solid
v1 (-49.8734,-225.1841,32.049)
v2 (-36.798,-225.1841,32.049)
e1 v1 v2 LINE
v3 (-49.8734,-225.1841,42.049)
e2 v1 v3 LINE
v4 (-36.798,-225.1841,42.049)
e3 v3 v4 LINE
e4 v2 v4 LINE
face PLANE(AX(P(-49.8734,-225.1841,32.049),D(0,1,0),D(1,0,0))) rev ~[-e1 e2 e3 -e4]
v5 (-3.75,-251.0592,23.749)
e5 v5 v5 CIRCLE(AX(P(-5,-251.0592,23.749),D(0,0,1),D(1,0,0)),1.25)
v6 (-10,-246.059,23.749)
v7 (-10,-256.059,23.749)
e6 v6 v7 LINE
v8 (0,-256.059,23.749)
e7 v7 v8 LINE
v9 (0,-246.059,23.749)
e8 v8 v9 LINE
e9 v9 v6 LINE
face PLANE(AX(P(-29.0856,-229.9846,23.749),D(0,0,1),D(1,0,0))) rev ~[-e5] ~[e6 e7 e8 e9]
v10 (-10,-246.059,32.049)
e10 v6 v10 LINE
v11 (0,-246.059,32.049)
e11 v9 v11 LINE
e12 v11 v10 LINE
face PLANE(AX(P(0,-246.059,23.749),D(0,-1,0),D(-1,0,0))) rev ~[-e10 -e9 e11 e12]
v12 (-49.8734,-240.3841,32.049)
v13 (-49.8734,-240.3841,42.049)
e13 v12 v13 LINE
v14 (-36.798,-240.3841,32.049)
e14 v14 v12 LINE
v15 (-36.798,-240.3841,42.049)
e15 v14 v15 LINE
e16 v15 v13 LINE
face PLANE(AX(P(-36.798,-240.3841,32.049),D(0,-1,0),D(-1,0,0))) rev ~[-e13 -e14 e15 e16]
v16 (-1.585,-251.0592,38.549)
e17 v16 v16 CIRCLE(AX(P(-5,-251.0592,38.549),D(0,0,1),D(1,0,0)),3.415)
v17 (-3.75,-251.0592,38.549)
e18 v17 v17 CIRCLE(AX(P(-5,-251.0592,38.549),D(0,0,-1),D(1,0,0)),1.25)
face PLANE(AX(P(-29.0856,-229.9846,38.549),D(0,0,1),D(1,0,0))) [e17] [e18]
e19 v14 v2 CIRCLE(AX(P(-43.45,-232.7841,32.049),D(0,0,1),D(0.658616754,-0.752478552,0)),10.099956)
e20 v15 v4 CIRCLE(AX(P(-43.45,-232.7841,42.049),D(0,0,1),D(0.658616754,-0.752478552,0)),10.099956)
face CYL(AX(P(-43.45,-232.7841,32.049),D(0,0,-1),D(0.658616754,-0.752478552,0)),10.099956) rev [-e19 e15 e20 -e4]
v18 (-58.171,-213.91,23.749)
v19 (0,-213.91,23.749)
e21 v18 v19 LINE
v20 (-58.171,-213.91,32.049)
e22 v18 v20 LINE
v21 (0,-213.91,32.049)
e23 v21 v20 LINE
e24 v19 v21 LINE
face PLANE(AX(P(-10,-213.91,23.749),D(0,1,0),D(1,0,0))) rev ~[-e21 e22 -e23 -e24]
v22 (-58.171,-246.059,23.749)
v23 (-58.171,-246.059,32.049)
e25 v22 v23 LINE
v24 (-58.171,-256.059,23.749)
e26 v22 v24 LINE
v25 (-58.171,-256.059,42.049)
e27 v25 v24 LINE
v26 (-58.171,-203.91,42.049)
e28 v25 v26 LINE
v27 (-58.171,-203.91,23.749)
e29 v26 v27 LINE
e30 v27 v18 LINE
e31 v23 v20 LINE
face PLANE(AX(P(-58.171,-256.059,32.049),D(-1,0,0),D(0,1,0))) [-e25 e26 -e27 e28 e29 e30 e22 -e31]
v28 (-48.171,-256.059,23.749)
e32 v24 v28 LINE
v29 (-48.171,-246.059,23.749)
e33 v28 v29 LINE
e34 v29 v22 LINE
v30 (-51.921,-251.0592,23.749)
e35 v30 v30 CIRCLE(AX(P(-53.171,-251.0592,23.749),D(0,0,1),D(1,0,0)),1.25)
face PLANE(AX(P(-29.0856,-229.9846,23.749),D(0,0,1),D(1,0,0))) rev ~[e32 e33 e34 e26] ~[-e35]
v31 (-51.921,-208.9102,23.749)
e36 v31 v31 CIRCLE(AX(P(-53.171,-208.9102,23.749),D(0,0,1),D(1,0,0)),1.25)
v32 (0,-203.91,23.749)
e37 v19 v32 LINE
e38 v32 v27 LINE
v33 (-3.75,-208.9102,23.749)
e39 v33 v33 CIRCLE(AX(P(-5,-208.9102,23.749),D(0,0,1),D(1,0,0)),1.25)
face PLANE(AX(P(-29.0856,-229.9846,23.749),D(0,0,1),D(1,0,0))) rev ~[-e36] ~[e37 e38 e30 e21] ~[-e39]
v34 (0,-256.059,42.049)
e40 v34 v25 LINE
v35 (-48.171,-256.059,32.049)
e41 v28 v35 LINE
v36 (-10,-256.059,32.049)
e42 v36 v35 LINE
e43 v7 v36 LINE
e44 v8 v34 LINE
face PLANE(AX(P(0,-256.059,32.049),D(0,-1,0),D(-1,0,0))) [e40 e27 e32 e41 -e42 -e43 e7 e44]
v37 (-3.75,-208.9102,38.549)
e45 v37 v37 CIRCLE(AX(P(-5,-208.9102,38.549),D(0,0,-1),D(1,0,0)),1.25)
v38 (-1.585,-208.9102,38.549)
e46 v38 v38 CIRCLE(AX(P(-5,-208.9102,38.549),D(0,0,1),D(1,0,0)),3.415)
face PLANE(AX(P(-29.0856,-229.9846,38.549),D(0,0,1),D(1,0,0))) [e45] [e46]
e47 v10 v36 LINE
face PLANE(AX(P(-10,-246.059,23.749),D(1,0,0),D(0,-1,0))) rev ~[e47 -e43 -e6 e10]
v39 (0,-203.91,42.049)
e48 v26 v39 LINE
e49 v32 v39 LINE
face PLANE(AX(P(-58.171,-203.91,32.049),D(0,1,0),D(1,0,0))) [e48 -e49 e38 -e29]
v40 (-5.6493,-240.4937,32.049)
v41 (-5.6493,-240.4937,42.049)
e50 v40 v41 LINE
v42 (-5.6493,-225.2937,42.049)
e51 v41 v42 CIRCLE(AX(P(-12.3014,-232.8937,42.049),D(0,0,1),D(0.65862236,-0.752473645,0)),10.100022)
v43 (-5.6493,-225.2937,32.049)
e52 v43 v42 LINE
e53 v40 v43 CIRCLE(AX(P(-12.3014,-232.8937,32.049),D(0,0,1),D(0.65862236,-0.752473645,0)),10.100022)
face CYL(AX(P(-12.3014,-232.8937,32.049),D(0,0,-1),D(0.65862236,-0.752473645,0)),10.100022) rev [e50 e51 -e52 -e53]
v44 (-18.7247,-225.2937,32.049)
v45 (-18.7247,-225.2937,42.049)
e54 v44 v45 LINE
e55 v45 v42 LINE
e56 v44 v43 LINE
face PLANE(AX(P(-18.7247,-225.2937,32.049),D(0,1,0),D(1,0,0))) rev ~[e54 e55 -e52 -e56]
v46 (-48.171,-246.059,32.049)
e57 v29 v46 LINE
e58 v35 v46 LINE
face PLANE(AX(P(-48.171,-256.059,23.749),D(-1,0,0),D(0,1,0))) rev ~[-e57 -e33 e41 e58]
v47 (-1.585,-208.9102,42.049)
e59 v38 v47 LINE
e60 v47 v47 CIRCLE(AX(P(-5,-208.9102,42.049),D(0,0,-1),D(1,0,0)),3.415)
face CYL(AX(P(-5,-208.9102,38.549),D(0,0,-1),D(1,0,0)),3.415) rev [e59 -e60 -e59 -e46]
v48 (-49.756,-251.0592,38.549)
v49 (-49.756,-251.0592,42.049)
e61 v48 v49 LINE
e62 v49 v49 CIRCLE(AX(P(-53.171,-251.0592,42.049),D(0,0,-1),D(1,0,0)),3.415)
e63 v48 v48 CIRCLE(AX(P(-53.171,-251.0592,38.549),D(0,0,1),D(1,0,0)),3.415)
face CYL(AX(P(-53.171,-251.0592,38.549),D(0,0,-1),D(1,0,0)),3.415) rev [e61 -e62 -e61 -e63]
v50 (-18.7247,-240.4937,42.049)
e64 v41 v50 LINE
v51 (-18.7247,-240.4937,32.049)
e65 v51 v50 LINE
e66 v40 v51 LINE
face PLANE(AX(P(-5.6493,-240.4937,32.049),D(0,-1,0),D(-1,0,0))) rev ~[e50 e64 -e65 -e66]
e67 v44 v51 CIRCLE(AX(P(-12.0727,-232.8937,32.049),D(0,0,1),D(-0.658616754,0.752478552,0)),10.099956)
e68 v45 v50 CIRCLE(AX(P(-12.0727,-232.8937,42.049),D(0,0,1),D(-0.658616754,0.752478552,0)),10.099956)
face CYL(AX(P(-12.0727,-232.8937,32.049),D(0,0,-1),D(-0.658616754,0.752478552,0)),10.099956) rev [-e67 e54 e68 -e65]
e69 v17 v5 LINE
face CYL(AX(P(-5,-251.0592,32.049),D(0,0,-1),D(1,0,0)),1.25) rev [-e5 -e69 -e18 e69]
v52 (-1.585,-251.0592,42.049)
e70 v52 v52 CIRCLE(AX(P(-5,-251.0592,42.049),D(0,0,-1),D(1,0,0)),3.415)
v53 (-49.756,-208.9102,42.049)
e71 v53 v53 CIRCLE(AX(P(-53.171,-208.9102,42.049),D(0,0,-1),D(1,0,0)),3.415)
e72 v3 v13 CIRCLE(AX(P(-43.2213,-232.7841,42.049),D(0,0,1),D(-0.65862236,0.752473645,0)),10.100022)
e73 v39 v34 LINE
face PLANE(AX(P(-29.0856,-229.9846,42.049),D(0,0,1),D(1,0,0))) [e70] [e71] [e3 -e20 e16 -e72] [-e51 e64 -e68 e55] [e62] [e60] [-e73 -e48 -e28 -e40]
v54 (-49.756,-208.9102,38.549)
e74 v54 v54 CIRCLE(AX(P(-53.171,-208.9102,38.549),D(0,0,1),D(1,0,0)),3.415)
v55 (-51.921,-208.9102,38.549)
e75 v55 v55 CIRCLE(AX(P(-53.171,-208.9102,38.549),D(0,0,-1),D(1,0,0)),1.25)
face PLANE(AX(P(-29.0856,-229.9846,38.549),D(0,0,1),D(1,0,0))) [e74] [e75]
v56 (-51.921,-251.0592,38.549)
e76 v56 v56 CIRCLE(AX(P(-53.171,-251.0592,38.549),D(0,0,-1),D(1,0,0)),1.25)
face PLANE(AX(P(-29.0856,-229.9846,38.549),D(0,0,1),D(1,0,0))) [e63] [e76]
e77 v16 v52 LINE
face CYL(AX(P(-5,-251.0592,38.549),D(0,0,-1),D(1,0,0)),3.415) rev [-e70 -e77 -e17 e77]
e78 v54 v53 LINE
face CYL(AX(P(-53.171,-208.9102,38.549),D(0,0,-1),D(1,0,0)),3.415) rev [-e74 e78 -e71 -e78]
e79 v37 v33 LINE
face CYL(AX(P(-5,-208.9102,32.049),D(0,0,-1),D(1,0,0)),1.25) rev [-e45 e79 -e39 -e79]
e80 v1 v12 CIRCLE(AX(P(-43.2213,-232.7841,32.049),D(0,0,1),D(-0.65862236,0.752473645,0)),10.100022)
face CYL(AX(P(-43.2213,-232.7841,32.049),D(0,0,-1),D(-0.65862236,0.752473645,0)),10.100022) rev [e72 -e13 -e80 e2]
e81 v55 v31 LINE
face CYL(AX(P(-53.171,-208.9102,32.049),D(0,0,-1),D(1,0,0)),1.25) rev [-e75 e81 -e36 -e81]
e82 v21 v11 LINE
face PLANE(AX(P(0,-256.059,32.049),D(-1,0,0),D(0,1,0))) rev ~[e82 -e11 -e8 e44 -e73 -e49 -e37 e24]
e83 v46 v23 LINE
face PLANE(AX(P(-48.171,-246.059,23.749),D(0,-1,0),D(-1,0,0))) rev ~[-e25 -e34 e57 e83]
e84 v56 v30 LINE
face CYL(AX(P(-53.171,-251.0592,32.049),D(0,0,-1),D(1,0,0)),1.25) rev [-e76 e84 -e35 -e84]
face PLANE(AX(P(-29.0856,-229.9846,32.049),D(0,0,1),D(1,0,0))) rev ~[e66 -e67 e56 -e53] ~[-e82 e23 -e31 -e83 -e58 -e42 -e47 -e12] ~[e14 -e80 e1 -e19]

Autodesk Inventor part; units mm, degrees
ref_plane "YZ Plane" through (0, 0, 0) normal (1, 0, 0) x (0, 1, 0)
ref_plane "XZ Plane" through (0, 0, 0) normal (0, 1, 0) x (-1, 0, 0)
ref_plane "XY Plane" through (0, 0, 0) normal (0, 0, 1) x (1, 0, 0)
ref_plane "Work Plane1" through (-29.0856, -229.9846, 23.749) normal (0, 0, 1) x (1, 0, 0)
sketch "Sketch1" plane through (-29.0856, -229.9846, 23.749) normal (0, 0, 1) x (1, 0, 0)
  line L0 (-29.0856, -26.0746) -> (29.0856, -26.0746) construction
  line L1 (29.0856, -26.0746) -> (29.0856, 26.0746) construction
  line L2 (29.0856, 26.0746) -> (-29.0856, 26.0746) construction
  line L3 (-29.0856, 26.0746) -> (-29.0856, -26.0746) construction
  circle A0 centre (24.0856, -21.0746) radius 1.25 construction
  circle A1 centre (-24.0854, -21.0746) radius 1.25 construction
  circle A2 centre (24.0856, 21.0744) radius 1.25 construction
  circle A3 centre (-24.0854, 21.0744) radius 1.25 construction
  arc A4 (23.3986, -10.4091) -> (23.3986, 4.5909) centre (16.7842, -2.9091) ccw construction
  line L4 (10.3986, 4.5909) -> (23.3986, 4.5909) construction
  arc A5 (10.3986, 4.5909) -> (10.3986, -10.4091) centre (17.0129, -2.9091) ccw construction
  line L5 (23.3986, -10.4091) -> (10.3986, -10.4091) construction
  arc A6 (-7.7501, -10.2995) -> (-7.7501, 4.7005) centre (-14.3644, -2.7995) ccw construction
  line L6 (-20.7501, 4.7005) -> (-7.7501, 4.7005) construction
  arc A7 (-20.7501, 4.7005) -> (-20.7501, -10.2995) centre (-14.1357, -2.7995) ccw construction
  line L7 (-7.7501, -10.2995) -> (-20.7501, -10.2995) construction
  spline S0 degree 3 poles (-70.3801, 6.5313) (-70.2603, 6.7214) (-70.0805, 7.0065) (-69.8595, 7.3979) (-69.7007, 7.6952) (-69.5502, 7.9968) (-69.4085, 8.3027) (-69.2764, 8.6129) (-69.155, 8.9274) (-69.046, 9.2463) (-68.95, 9.5696) (-68.8876, 9.8435) (-68.8425, 10.0636) (-68.7948, 10.2255) (-68.7304, 10.3815) (-68.6465, 10.5283) (-68.558, 10.6379) (-68.4781, 10.7171) (-68.4105, 10.7676) (-68.3413, 10.816) (-68.265, 10.8522) (-68.1875, 10.8857) (-68.1054, 10.9055) (-68.0227, 10.9222) (-67.9101, 10.9262) (-67.7698, 10.9236) (-67.6294, 10.9262) (-67.5169, 10.9222) (-67.4341, 10.9055) (-67.352, 10.8857) (-67.2745, 10.8522) (-67.1982, 10.816) (-67.129, 10.7676) (-67.0614, 10.7171) (-66.9815, 10.6379) (-66.8931, 10.5283) (-66.8091, 10.3815) (-66.7447, 10.2255) (-66.6971, 10.0636) (-66.652, 9.8435) (-66.5895, 9.5696) (-66.4936, 9.2463) (-66.3845, 8.9274) (-66.2631, 8.6129) (-66.1311, 8.3027) (-65.9894, 7.9968) (-65.8389, 7.6952) (-65.68, 7.3979) (-65.459, 7.0065) (-65.2792, 6.7214) (-65.1594, 6.5313) knots -1.0784 -1.0784 -1.0784 -1.0784 -1.010995 -0.977291 -0.943586 -0.909882 -0.876178 -0.842474 -0.80877 -0.775067 -0.741365 -0.707665 -0.690816 -0.67397 -0.657123 -0.640284 -0.623449 -0.615023 -0.606598 -0.598176 -0.589749 -0.581327 -0.572901 -0.564477 -0.556053 -0.5392 -0.522347 -0.513923 -0.505499 -0.497074 -0.488651 -0.480225 -0.471802 -0.463377 -0.454951 -0.438116 -0.421277 -0.40443 -0.387584 -0.370735 -0.337035 -0.303333 -0.26963 -0.235926 -0.202222 -0.168518 -0.134814 -0.101109 -0.067405 0 0 0 0 construction
  line L8 (-65.1594, 6.5313) -> (-64.0971, 6.5313) construction
  spline S1 degree 3 poles (-64.0971, 6.5313) (-63.9773, 6.7214) (-63.7975, 7.0065) (-63.5765, 7.3979) (-63.4177, 7.6952) (-63.2672, 7.9968) (-63.1255, 8.3027) (-62.9934, 8.6129) (-62.872, 8.9274) (-62.763, 9.2463) (-62.667, 9.5696) (-62.6046, 9.8435) (-62.5595, 10.0636) (-62.5118, 10.2255) (-62.4474, 10.3815) (-62.3635, 10.5283) (-62.275, 10.6379) (-62.1951, 10.7171) (-62.1275, 10.7676) (-62.0583, 10.816) (-61.982, 10.8522) (-61.9045, 10.8857) (-61.8224, 10.9055) (-61.7397, 10.9222) (-61.6271, 10.9262) (-61.4868, 10.9236) (-61.3464, 10.9262) (-61.2339, 10.9222) (-61.1511, 10.9055) (-61.069, 10.8857) (-60.9915, 10.8522) (-60.9152, 10.816) (-60.846, 10.7676) (-60.7784, 10.7171) (-60.6985, 10.6379) (-60.6101, 10.5283) (-60.5261, 10.3815) (-60.4617, 10.2255) (-60.4141, 10.0636) (-60.369, 9.8435) (-60.3065, 9.5696) (-60.2106, 9.2463) (-60.1015, 8.9274) (-59.9801, 8.6129) (-59.8481, 8.3027) (-59.7064, 7.9968) (-59.5559, 7.6952) (-59.397, 7.3979) (-59.176, 7.0065) (-58.9962, 6.7214) (-58.8764, 6.5313) knots -1.0784 -1.0784 -1.0784 -1.0784 -1.010995 -0.977291 -0.943586 -0.909882 -0.876178 -0.842474 -0.80877 -0.775067 -0.741365 -0.707665 -0.690816 -0.67397 -0.657123 -0.640284 -0.623449 -0.615023 -0.606598 -0.598176 -0.589749 -0.581327 -0.572901 -0.564477 -0.556053 -0.5392 -0.522347 -0.513923 -0.505499 -0.497074 -0.488651 -0.480225 -0.471802 -0.463377 -0.454951 -0.438116 -0.421277 -0.40443 -0.387584 -0.370735 -0.337035 -0.303333 -0.26963 -0.235926 -0.202222 -0.168518 -0.134814 -0.101109 -0.067405 0 0 0 0 construction
  line L9 (-58.8764, 6.5313) -> (-57.8141, 6.5313) construction
  spline S2 degree 3 poles (-57.8141, 6.5313) (-57.6943, 6.7214) (-57.5145, 7.0065) (-57.2935, 7.3979) (-57.1347, 7.6952) (-56.9842, 7.9968) (-56.8425, 8.3027) (-56.7104, 8.6129) (-56.589, 8.9274) (-56.48, 9.2463) (-56.384, 9.5696) (-56.3216, 9.8435) (-56.2765, 10.0636) (-56.2288, 10.2255) (-56.1644, 10.3815) (-56.0805, 10.5283) (-55.992, 10.6379) (-55.9121, 10.7171) (-55.8445, 10.7676) (-55.7753, 10.816) (-55.699, 10.8522) (-55.6215, 10.8857) (-55.5394, 10.9055) (-55.4567, 10.9222) (-55.3441, 10.9262) (-55.2038, 10.9236) (-55.0634, 10.9262) (-54.9509, 10.9222) (-54.8681, 10.9055) (-54.786, 10.8857) (-54.7085, 10.8522) (-54.6322, 10.816) (-54.563, 10.7676) (-54.4954, 10.7171) (-54.4155, 10.6379) (-54.3271, 10.5283) (-54.2431, 10.3815) (-54.1787, 10.2255) (-54.1311, 10.0636) (-54.086, 9.8435) (-54.0235, 9.5696) (-53.9276, 9.2463) (-53.8185, 8.9274) (-53.6971, 8.6129) (-53.5651, 8.3027) (-53.4234, 7.9968) (-53.2729, 7.6952) (-53.114, 7.3979) (-52.893, 7.0065) (-52.7132, 6.7214) (-52.5934, 6.5313) knots -1.0784 -1.0784 -1.0784 -1.0784 -1.010995 -0.977291 -0.943586 -0.909882 -0.876178 -0.842474 -0.80877 -0.775067 -0.741365 -0.707665 -0.690816 -0.67397 -0.657123 -0.640284 -0.623449 -0.615023 -0.606598 -0.598176 -0.589749 -0.581327 -0.572901 -0.564477 -0.556053 -0.5392 -0.522347 -0.513923 -0.505499 -0.497074 -0.488651 -0.480225 -0.471802 -0.463377 -0.454951 -0.438116 -0.421277 -0.40443 -0.387584 -0.370735 -0.337035 -0.303333 -0.26963 -0.235926 -0.202222 -0.168518 -0.134814 -0.101109 -0.067405 0 0 0 0 construction
  line L10 (-52.5934, 6.5313) -> (-51.5311, 6.5313) construction
  spline S3 degree 3 poles (-51.5311, 6.5313) (-51.4113, 6.7214) (-51.2315, 7.0065) (-51.0105, 7.3979) (-50.8517, 7.6952) (-50.7012, 7.9968) (-50.5595, 8.3027) (-50.4274, 8.6129) (-50.306, 8.9274) (-50.197, 9.2463) (-50.101, 9.5696) (-50.0386, 9.8435) (-49.9935, 10.0636) (-49.9458, 10.2255) (-49.8814, 10.3815) (-49.7975, 10.5283) (-49.709, 10.6379) (-49.6291, 10.7171) (-49.5615, 10.7676) (-49.4923, 10.816) (-49.416, 10.8522) (-49.3385, 10.8857) (-49.2564, 10.9055) (-49.1737, 10.9222) (-49.0611, 10.9262) (-48.9208, 10.9236) (-48.7804, 10.9262) (-48.6679, 10.9222) (-48.5851, 10.9055) (-48.503, 10.8857) (-48.4255, 10.8522) (-48.3492, 10.816) (-48.28, 10.7676) (-48.2124, 10.7171) (-48.1325, 10.6379) (-48.0441, 10.5283) (-47.9601, 10.3815) (-47.8957, 10.2255) (-47.8481, 10.0636) (-47.803, 9.8435) (-47.7405, 9.5696) (-47.6446, 9.2463) (-47.5355, 8.9274) (-47.4141, 8.6129) (-47.2821, 8.3027) (-47.1404, 7.9968) (-46.9899, 7.6952) (-46.831, 7.3979) (-46.61, 7.0065) (-46.4302, 6.7214) (-46.3104, 6.5313) knots -1.0784 -1.0784 -1.0784 -1.0784 -1.010995 -0.977291 -0.943586 -0.909882 -0.876178 -0.842474 -0.80877 -0.775067 -0.741365 -0.707665 -0.690816 -0.67397 -0.657123 -0.640284 -0.623449 -0.615023 -0.606598 -0.598176 -0.589749 -0.581327 -0.572901 -0.564477 -0.556053 -0.5392 -0.522347 -0.513923 -0.505499 -0.497074 -0.488651 -0.480225 -0.471802 -0.463377 -0.454951 -0.438116 -0.421277 -0.40443 -0.387584 -0.370735 -0.337035 -0.303333 -0.26963 -0.235926 -0.202222 -0.168518 -0.134814 -0.101109 -0.067405 0 0 0 0 construction
  line L11 (-46.3104, 6.5313) -> (-45.2481, 6.5313) construction
  spline S4 degree 3 poles (-45.2481, 6.5313) (-45.1283, 6.7214) (-44.9485, 7.0065) (-44.7275, 7.3979) (-44.5687, 7.6952) (-44.4182, 7.9968) (-44.2765, 8.3027) (-44.1444, 8.6129) (-44.023, 8.9274) (-43.914, 9.2463) (-43.818, 9.5696) (-43.7556, 9.8435) (-43.7105, 10.0636) (-43.6628, 10.2255) (-43.5984, 10.3815) (-43.5145, 10.5283) (-43.426, 10.6379) (-43.3461, 10.7171) (-43.2785, 10.7676) (-43.2093, 10.816) (-43.133, 10.8522) (-43.0555, 10.8857) (-42.9734, 10.9055) (-42.8907, 10.9222) (-42.7781, 10.9262) (-42.6378, 10.9236) (-42.4974, 10.9262) (-42.3849, 10.9222) (-42.3021, 10.9055) (-42.22, 10.8857) (-42.1425, 10.8522) (-42.0662, 10.816) (-41.997, 10.7676) (-41.9294, 10.7171) (-41.8495, 10.6379) (-41.7611, 10.5283) (-41.6771, 10.3815) (-41.6127, 10.2255) (-41.5651, 10.0636) (-41.52, 9.8435) (-41.4575, 9.5696) (-41.3616, 9.2463) (-41.2525, 8.9274) (-41.1311, 8.6129) (-40.9991, 8.3027) (-40.8574, 7.9968) (-40.7069, 7.6952) (-40.548, 7.3979) (-40.327, 7.0065) (-40.1472, 6.7214) (-40.0274, 6.5313) knots -1.0784 -1.0784 -1.0784 -1.0784 -1.010995 -0.977291 -0.943586 -0.909882 -0.876178 -0.842474 -0.80877 -0.775067 -0.741365 -0.707665 -0.690816 -0.67397 -0.657123 -0.640284 -0.623449 -0.615023 -0.606598 -0.598176 -0.589749 -0.581327 -0.572901 -0.564477 -0.556053 -0.5392 -0.522347 -0.513923 -0.505499 -0.497074 -0.488651 -0.480225 -0.471802 -0.463377 -0.454951 -0.438116 -0.421277 -0.40443 -0.387584 -0.370735 -0.337035 -0.303333 -0.26963 -0.235926 -0.202222 -0.168518 -0.134814 -0.101109 -0.067405 0 0 0 0 construction
  line L12 (-40.0274, 6.5313) -> (-38.9651, 6.5313) construction
  spline S5 degree 3 poles (-38.9651, 6.5313) (-38.8453, 6.7214) (-38.6655, 7.0065) (-38.4445, 7.3979) (-38.2857, 7.6952) (-38.1352, 7.9968) (-37.9935, 8.3027) (-37.8614, 8.6129) (-37.74, 8.9274) (-37.631, 9.2463) (-37.535, 9.5696) (-37.4726, 9.8435) (-37.4275, 10.0636) (-37.3798, 10.2255) (-37.3154, 10.3815) (-37.2315, 10.5283) (-37.143, 10.6379) (-37.0631, 10.7171) (-36.9955, 10.7676) (-36.9263, 10.816) (-36.85, 10.8522) (-36.7725, 10.8857) (-36.6904, 10.9055) (-36.6077, 10.9222) (-36.4951, 10.9262) (-36.3548, 10.9236) (-36.2144, 10.9262) (-36.1019, 10.9222) (-36.0191, 10.9055) (-35.937, 10.8857) (-35.8595, 10.8522) (-35.7832, 10.816) (-35.714, 10.7676) (-35.6464, 10.7171) (-35.5665, 10.6379) (-35.4781, 10.5283) (-35.3941, 10.3815) (-35.3297, 10.2255) (-35.2821, 10.0636) (-35.237, 9.8435) (-35.1745, 9.5696) (-35.0786, 9.2463) (-34.9695, 8.9274) (-34.8481, 8.6129) (-34.7161, 8.3027) (-34.5744, 7.9968) (-34.4239, 7.6952) (-34.265, 7.3979) (-34.044, 7.0065) (-33.8642, 6.7214) (-33.7444, 6.5313) knots -1.0784 -1.0784 -1.0784 -1.0784 -1.010995 -0.977291 -0.943586 -0.909882 -0.876178 -0.842474 -0.80877 -0.775067 -0.741365 -0.707665 -0.690816 -0.67397 -0.657123 -0.640284 -0.623449 -0.615023 -0.606598 -0.598176 -0.589749 -0.581327 -0.572901 -0.564477 -0.556053 -0.5392 -0.522347 -0.513923 -0.505499 -0.497074 -0.488651 -0.480225 -0.471802 -0.463377 -0.454951 -0.438116 -0.421277 -0.40443 -0.387584 -0.370735 -0.337035 -0.303333 -0.26963 -0.235926 -0.202222 -0.168518 -0.134814 -0.101109 -0.067405 0 0 0 0 construction
  line L13 (-33.7444, 6.5313) -> (-32.6821, 6.5313) construction
  spline S6 degree 3 poles (-32.6821, 6.5313) (-32.5623, 6.7214) (-32.3825, 7.0065) (-32.1615, 7.3979) (-32.0027, 7.6952) (-31.8522, 7.9968) (-31.7105, 8.3027) (-31.5784, 8.6129) (-31.457, 8.9274) (-31.348, 9.2463) (-31.252, 9.5696) (-31.1896, 9.8435) (-31.1445, 10.0636) (-31.0968, 10.2255) (-31.0324, 10.3815) (-30.9485, 10.5283) (-30.86, 10.6379) (-30.7801, 10.7171) (-30.7125, 10.7676) (-30.6433, 10.816) (-30.567, 10.8522) (-30.4895, 10.8857) (-30.4074, 10.9055) (-30.3247, 10.9222) (-30.2121, 10.9262) (-30.0718, 10.9236) (-29.9314, 10.9262) (-29.8189, 10.9222) (-29.7361, 10.9055) (-29.654, 10.8857) (-29.5765, 10.8522) (-29.5002, 10.816) (-29.431, 10.7676) (-29.3634, 10.7171) (-29.2835, 10.6379) (-29.1951, 10.5283) (-29.1111, 10.3815) (-29.0467, 10.2255) (-28.9991, 10.0636) (-28.954, 9.8435) (-28.8915, 9.5696) (-28.7956, 9.2463) (-28.6865, 8.9274) (-28.5651, 8.6129) (-28.4331, 8.3027) (-28.2914, 7.9968) (-28.1409, 7.6952) (-27.982, 7.3979) (-27.761, 7.0065) (-27.5812, 6.7214) (-27.4614, 6.5313) knots -1.0784 -1.0784 -1.0784 -1.0784 -1.010995 -0.977291 -0.943586 -0.909882 -0.876178 -0.842474 -0.80877 -0.775067 -0.741365 -0.707665 -0.690816 -0.67397 -0.657123 -0.640284 -0.623449 -0.615023 -0.606598 -0.598176 -0.589749 -0.581327 -0.572901 -0.564477 -0.556053 -0.5392 -0.522347 -0.513923 -0.505499 -0.497074 -0.488651 -0.480225 -0.471802 -0.463377 -0.454951 -0.438116 -0.421277 -0.40443 -0.387584 -0.370735 -0.337035 -0.303333 -0.26963 -0.235926 -0.202222 -0.168518 -0.134814 -0.101109 -0.067405 0 0 0 0 construction
  line L14 (-27.4614, 6.5313) -> (-26.3991, 6.5313) construction
  spline S7 degree 3 poles (-26.3991, 6.5313) (-26.2793, 6.7214) (-26.0995, 7.0065) (-25.8785, 7.3979) (-25.7197, 7.6952) (-25.5692, 7.9968) (-25.4275, 8.3027) (-25.2954, 8.6129) (-25.174, 8.9274) (-25.065, 9.2463) (-24.969, 9.5696) (-24.9066, 9.8435) (-24.8615, 10.0636) (-24.8138, 10.2255) (-24.7494, 10.3815) (-24.6655, 10.5283) (-24.577, 10.6379) (-24.4971, 10.7171) (-24.4295, 10.7676) (-24.3603, 10.816) (-24.284, 10.8522) (-24.2065, 10.8857) (-24.1244, 10.9055) (-24.0417, 10.9222) (-23.9291, 10.9262) (-23.7888, 10.9236) (-23.6484, 10.9262) (-23.5359, 10.9222) (-23.4531, 10.9055) (-23.371, 10.8857) (-23.2935, 10.8522) (-23.2172, 10.816) (-23.148, 10.7676) (-23.0804, 10.7171) (-23.0005, 10.6379) (-22.9121, 10.5283) (-22.8281, 10.3815) (-22.7637, 10.2255) (-22.7161, 10.0636) (-22.671, 9.8435) (-22.6085, 9.5696) (-22.5126, 9.2463) (-22.4035, 8.9274) (-22.2821, 8.6129) (-22.1501, 8.3027) (-22.0084, 7.9968) (-21.8579, 7.6952) (-21.699, 7.3979) (-21.478, 7.0065) (-21.2982, 6.7214) (-21.1784, 6.5313) knots -1.0784 -1.0784 -1.0784 -1.0784 -1.010995 -0.977291 -0.943586 -0.909882 -0.876178 -0.842474 -0.80877 -0.775067 -0.741365 -0.707665 -0.690816 -0.67397 -0.657123 -0.640284 -0.623449 -0.615023 -0.606598 -0.598176 -0.589749 -0.581327 -0.572901 -0.564477 -0.556053 -0.5392 -0.522347 -0.513923 -0.505499 -0.497074 -0.488651 -0.480225 -0.471802 -0.463377 -0.454951 -0.438116 -0.421277 -0.40443 -0.387584 -0.370735 -0.337035 -0.303333 -0.26963 -0.235926 -0.202222 -0.168518 -0.134814 -0.101109 -0.067405 0 0 0 0 construction
  line L15 (-21.1784, 6.5313) -> (-20.1161, 6.5313) construction
  spline S8 degree 3 poles (-20.1161, 6.5313) (-19.9963, 6.7214) (-19.8165, 7.0065) (-19.5955, 7.3979) (-19.4367, 7.6952) (-19.2862, 7.9968) (-19.1445, 8.3027) (-19.0124, 8.6129) (-18.891, 8.9274) (-18.782, 9.2463) (-18.686, 9.5696) (-18.6236, 9.8435) (-18.5785, 10.0636) (-18.5308, 10.2255) (-18.4664, 10.3815) (-18.3825, 10.5283) (-18.294, 10.6379) (-18.2141, 10.7171) (-18.1465, 10.7676) (-18.0773, 10.816) (-18.001, 10.8522) (-17.9235, 10.8857) (-17.8414, 10.9055) (-17.7587, 10.9222) (-17.6461, 10.9262) (-17.5058, 10.9236) (-17.3654, 10.9262) (-17.2529, 10.9222) (-17.1701, 10.9055) (-17.088, 10.8857) (-17.0105, 10.8522) (-16.9342, 10.816) (-16.865, 10.7676) (-16.7974, 10.7171) (-16.7175, 10.6379) (-16.6291, 10.5283) (-16.5451, 10.3815) (-16.4807, 10.2255) (-16.4331, 10.0636) (-16.388, 9.8435) (-16.3255, 9.5696) (-16.2296, 9.2463) (-16.1205, 8.9274) (-15.9991, 8.6129) (-15.8671, 8.3027) (-15.7254, 7.9968) (-15.5749, 7.6952) (-15.416, 7.3979) (-15.195, 7.0065) (-15.0152, 6.7214) (-14.8954, 6.5313) knots -1.0784 -1.0784 -1.0784 -1.0784 -1.010995 -0.977291 -0.943586 -0.909882 -0.876178 -0.842474 -0.80877 -0.775067 -0.741365 -0.707665 -0.690816 -0.67397 -0.657123 -0.640284 -0.623449 -0.615023 -0.606598 -0.598176 -0.589749 -0.581327 -0.572901 -0.564477 -0.556053 -0.5392 -0.522347 -0.513923 -0.505499 -0.497074 -0.488651 -0.480225 -0.471802 -0.463377 -0.454951 -0.438116 -0.421277 -0.40443 -0.387584 -0.370735 -0.337035 -0.303333 -0.26963 -0.235926 -0.202222 -0.168518 -0.134814 -0.101109 -0.067405 0 0 0 0 construction
  line L16 (-14.8954, 6.5313) -> (-13.8331, 6.5313) construction
  spline S9 degree 3 poles (-13.8331, 6.5313) (-13.7133, 6.7214) (-13.5335, 7.0065) (-13.3125, 7.3979) (-13.1537, 7.6952) (-13.0032, 7.9968) (-12.8615, 8.3027) (-12.7294, 8.6129) (-12.608, 8.9274) (-12.499, 9.2463) (-12.403, 9.5696) (-12.3406, 9.8435) (-12.2955, 10.0636) (-12.2478, 10.2255) (-12.1834, 10.3815) (-12.0995, 10.5283) (-12.011, 10.6379) (-11.9311, 10.7171) (-11.8635, 10.7676) (-11.7943, 10.816) (-11.718, 10.8522) (-11.6405, 10.8857) (-11.5584, 10.9055) (-11.4757, 10.9222) (-11.3631, 10.9262) (-11.2228, 10.9236) (-11.0824, 10.9262) (-10.9699, 10.9222) (-10.8871, 10.9055) (-10.805, 10.8857) (-10.7275, 10.8522) (-10.6512, 10.816) (-10.582, 10.7676) (-10.5144, 10.7171) (-10.4345, 10.6379) (-10.3461, 10.5283) (-10.2621, 10.3815) (-10.1977, 10.2255) (-10.1501, 10.0636) (-10.105, 9.8435) (-10.0425, 9.5696) (-9.9466, 9.2463) (-9.8375, 8.9274) (-9.7161, 8.6129) (-9.5841, 8.3027) (-9.4424, 7.9968) (-9.2919, 7.6952) (-9.133, 7.3979) (-8.912, 7.0065) (-8.7322, 6.7214) (-8.6124, 6.5313) knots -1.0784 -1.0784 -1.0784 -1.0784 -1.010995 -0.977291 -0.943586 -0.909882 -0.876178 -0.842474 -0.80877 -0.775067 -0.741365 -0.707665 -0.690816 -0.67397 -0.657123 -0.640284 -0.623449 -0.615023 -0.606598 -0.598176 -0.589749 -0.581327 -0.572901 -0.564477 -0.556053 -0.5392 -0.522347 -0.513923 -0.505499 -0.497074 -0.488651 -0.480225 -0.471802 -0.463377 -0.454951 -0.438116 -0.421277 -0.40443 -0.387584 -0.370735 -0.337035 -0.303333 -0.26963 -0.235926 -0.202222 -0.168518 -0.134814 -0.101109 -0.067405 0 0 0 0 construction
  line L17 (-8.6124, 6.5313) -> (-7.5501, 6.5313) construction
  spline S10 degree 3 poles (-7.5501, 6.5313) (-7.4303, 6.7214) (-7.2505, 7.0065) (-7.0295, 7.3979) (-6.8707, 7.6952) (-6.7202, 7.9968) (-6.5785, 8.3027) (-6.4464, 8.6129) (-6.325, 8.9274) (-6.216, 9.2463) (-6.12, 9.5696) (-6.0576, 9.8435) (-6.0125, 10.0636) (-5.9648, 10.2255) (-5.9004, 10.3815) (-5.8165, 10.5283) (-5.728, 10.6379) (-5.6481, 10.7171) (-5.5805, 10.7676) (-5.5113, 10.816) (-5.435, 10.8522) (-5.3575, 10.8857) (-5.2754, 10.9055) (-5.1927, 10.9222) (-5.0801, 10.9262) (-4.9398, 10.9236) (-4.7994, 10.9262) (-4.6869, 10.9222) (-4.6041, 10.9055) (-4.522, 10.8857) (-4.4445, 10.8522) (-4.3682, 10.816) (-4.299, 10.7676) (-4.2314, 10.7171) (-4.1515, 10.6379) (-4.0631, 10.5283) (-3.9791, 10.3815) (-3.9147, 10.2255) (-3.8671, 10.0636) (-3.822, 9.8435) (-3.7595, 9.5696) (-3.6636, 9.2463) (-3.5545, 8.9274) (-3.4331, 8.6129) (-3.3011, 8.3027) (-3.1594, 7.9968) (-3.0089, 7.6952) (-2.85, 7.3979) (-2.629, 7.0065) (-2.4492, 6.7214) (-2.3294, 6.5313) knots -1.0784 -1.0784 -1.0784 -1.0784 -1.010995 -0.977291 -0.943586 -0.909882 -0.876178 -0.842474 -0.80877 -0.775067 -0.741365 -0.707665 -0.690816 -0.67397 -0.657123 -0.640284 -0.623449 -0.615023 -0.606598 -0.598176 -0.589749 -0.581327 -0.572901 -0.564477 -0.556053 -0.5392 -0.522347 -0.513923 -0.505499 -0.497074 -0.488651 -0.480225 -0.471802 -0.463377 -0.454951 -0.438116 -0.421277 -0.40443 -0.387584 -0.370735 -0.337035 -0.303333 -0.26963 -0.235926 -0.202222 -0.168518 -0.134814 -0.101109 -0.067405 0 0 0 0 construction
  line L18 (-2.3294, 6.5313) -> (-1.2671, 6.5313) construction
  spline S11 degree 3 poles (-1.2671, 6.5313) (-1.1473, 6.7214) (-0.9675, 7.0065) (-0.7465, 7.3979) (-0.5877, 7.6952) (-0.4372, 7.9968) (-0.2955, 8.3027) (-0.1634, 8.6129) (-0.042, 8.9274) (0.067, 9.2463) (0.163, 9.5696) (0.2254, 9.8435) (0.2705, 10.0636) (0.3182, 10.2255) (0.3826, 10.3815) (0.4665, 10.5283) (0.555, 10.6379) (0.6349, 10.7171) (0.7025, 10.7676) (0.7717, 10.816) (0.848, 10.8522) (0.9255, 10.8857) (1.0076, 10.9055) (1.0903, 10.9222) (1.2029, 10.9262) (1.3432, 10.9236) (1.4836, 10.9262) (1.5961, 10.9222) (1.6789, 10.9055) (1.761, 10.8857) (1.8385, 10.8522) (1.9148, 10.816) (1.984, 10.7676) (2.0516, 10.7171) (2.1315, 10.6379) (2.2199, 10.5283) (2.3039, 10.3815) (2.3683, 10.2255) (2.4159, 10.0636) (2.461, 9.8435) (2.5235, 9.5696) (2.6194, 9.2463) (2.7285, 8.9274) (2.8499, 8.6129) (2.9819, 8.3027) (3.1236, 7.9968) (3.2741, 7.6952) (3.433, 7.3979) (3.654, 7.0065) (3.8338, 6.7214) (3.9536, 6.5313) knots -1.0784 -1.0784 -1.0784 -1.0784 -1.010995 -0.977291 -0.943586 -0.909882 -0.876178 -0.842474 -0.80877 -0.775067 -0.741365 -0.707665 -0.690816 -0.67397 -0.657123 -0.640284 -0.623449 -0.615023 -0.606598 -0.598176 -0.589749 -0.581327 -0.572901 -0.564477 -0.556053 -0.5392 -0.522347 -0.513923 -0.505499 -0.497074 -0.488651 -0.480225 -0.471802 -0.463377 -0.454951 -0.438116 -0.421277 -0.40443 -0.387584 -0.370735 -0.337035 -0.303333 -0.26963 -0.235926 -0.202222 -0.168518 -0.134814 -0.101109 -0.067405 0 0 0 0 construction
  line L19 (3.9536, 6.5313) -> (5.0159, 6.5313) construction
  spline S12 degree 3 poles (5.0159, 6.5313) (5.1357, 6.7214) (5.3155, 7.0065) (5.5365, 7.3979) (5.6953, 7.6952) (5.8458, 7.9968) (5.9875, 8.3027) (6.1196, 8.6129) (6.241, 8.9274) (6.35, 9.2463) (6.446, 9.5696) (6.5084, 9.8435) (6.5535, 10.0636) (6.6012, 10.2255) (6.6656, 10.3815) (6.7495, 10.5283) (6.838, 10.6379) (6.9179, 10.7171) (6.9855, 10.7676) (7.0547, 10.816) (7.131, 10.8522) (7.2085, 10.8857) (7.2906, 10.9055) (7.3733, 10.9222) (7.4859, 10.9262) (7.6262, 10.9236) (7.7666, 10.9262) (7.8791, 10.9222) (7.9619, 10.9055) (8.044, 10.8857) (8.1215, 10.8522) (8.1978, 10.816) (8.267, 10.7676) (8.3346, 10.7171) (8.4145, 10.6379) (8.5029, 10.5283) (8.5869, 10.3815) (8.6513, 10.2255) (8.6989, 10.0636) (8.744, 9.8435) (8.8065, 9.5696) (8.9024, 9.2463) (9.0115, 8.9274) (9.1329, 8.6129) (9.2649, 8.3027) (9.4066, 7.9968) (9.5571, 7.6952) (9.716, 7.3979) (9.937, 7.0065) (10.1168, 6.7214) (10.2366, 6.5313) knots -1.0784 -1.0784 -1.0784 -1.0784 -1.010995 -0.977291 -0.943586 -0.909882 -0.876178 -0.842474 -0.80877 -0.775067 -0.741365 -0.707665 -0.690816 -0.67397 -0.657123 -0.640284 -0.623449 -0.615023 -0.606598 -0.598176 -0.589749 -0.581327 -0.572901 -0.564477 -0.556053 -0.5392 -0.522347 -0.513923 -0.505499 -0.497074 -0.488651 -0.480225 -0.471802 -0.463377 -0.454951 -0.438116 -0.421277 -0.40443 -0.387584 -0.370735 -0.337035 -0.303333 -0.26963 -0.235926 -0.202222 -0.168518 -0.134814 -0.101109 -0.067405 0 0 0 0 construction
  line L20 (10.2366, 6.5313) -> (11.2989, 6.5313) construction
  spline S13 degree 3 poles (11.2989, 6.5313) (11.4187, 6.7214) (11.5985, 7.0065) (11.8195, 7.3979) (11.9783, 7.6952) (12.1288, 7.9968) (12.2705, 8.3027) (12.4026, 8.6129) (12.524, 8.9274) (12.633, 9.2463) (12.729, 9.5696) (12.7914, 9.8435) (12.8365, 10.0636) (12.8842, 10.2255) (12.9486, 10.3815) (13.0325, 10.5283) (13.121, 10.6379) (13.2009, 10.7171) (13.2685, 10.7676) (13.3377, 10.816) (13.414, 10.8522) (13.4915, 10.8857) (13.5736, 10.9055) (13.6563, 10.9222) (13.7689, 10.9262) (13.9092, 10.9236) (14.0496, 10.9262) (14.1621, 10.9222) (14.2449, 10.9055) (14.327, 10.8857) (14.4045, 10.8522) (14.4808, 10.816) (14.55, 10.7676) (14.6176, 10.7171) (14.6975, 10.6379) (14.7859, 10.5283) (14.8699, 10.3815) (14.9343, 10.2255) (14.9819, 10.0636) (15.027, 9.8435) (15.0895, 9.5696) (15.1854, 9.2463) (15.2945, 8.9274) (15.4159, 8.6129) (15.5479, 8.3027) (15.6896, 7.9968) (15.8401, 7.6952) (15.999, 7.3979) (16.22, 7.0065) (16.3998, 6.7214) (16.5196, 6.5313) knots -1.0784 -1.0784 -1.0784 -1.0784 -1.010995 -0.977291 -0.943586 -0.909882 -0.876178 -0.842474 -0.80877 -0.775067 -0.741365 -0.707665 -0.690816 -0.67397 -0.657123 -0.640284 -0.623449 -0.615023 -0.606598 -0.598176 -0.589749 -0.581327 -0.572901 -0.564477 -0.556053 -0.5392 -0.522347 -0.513923 -0.505499 -0.497074 -0.488651 -0.480225 -0.471802 -0.463377 -0.454951 -0.438116 -0.421277 -0.40443 -0.387584 -0.370735 -0.337035 -0.303333 -0.26963 -0.235926 -0.202222 -0.168518 -0.134814 -0.101109 -0.067405 0 0 0 0 construction
  line L21 (16.5196, 6.5313) -> (17.5819, 6.5313) construction
  spline S14 degree 3 poles (17.5819, 6.5313) (17.7017, 6.7214) (17.8815, 7.0065) (18.1025, 7.3979) (18.2613, 7.6952) (18.4118, 7.9968) (18.5535, 8.3027) (18.6856, 8.6129) (18.807, 8.9274) (18.916, 9.2463) (19.012, 9.5696) (19.0744, 9.8435) (19.1195, 10.0636) (19.1672, 10.2255) (19.2316, 10.3815) (19.3155, 10.5283) (19.404, 10.6379) (19.4839, 10.7171) (19.5515, 10.7676) (19.6207, 10.816) (19.697, 10.8522) (19.7745, 10.8857) (19.8566, 10.9055) (19.9393, 10.9222) (20.0519, 10.9262) (20.1922, 10.9236) (20.3326, 10.9262) (20.4451, 10.9222) (20.5279, 10.9055) (20.61, 10.8857) (20.6875, 10.8522) (20.7638, 10.816) (20.833, 10.7676) (20.9006, 10.7171) (20.9805, 10.6379) (21.0689, 10.5283) (21.1529, 10.3815) (21.2173, 10.2255) (21.2649, 10.0636) (21.31, 9.8435) (21.3725, 9.5696) (21.4684, 9.2463) (21.5775, 8.9274) (21.6989, 8.6129) (21.8309, 8.3027) (21.9726, 7.9968) (22.1231, 7.6952) (22.282, 7.3979) (22.503, 7.0065) (22.6828, 6.7214) (22.8026, 6.5313) knots -1.0784 -1.0784 -1.0784 -1.0784 -1.010995 -0.977291 -0.943586 -0.909882 -0.876178 -0.842474 -0.80877 -0.775067 -0.741365 -0.707665 -0.690816 -0.67397 -0.657123 -0.640284 -0.623449 -0.615023 -0.606598 -0.598176 -0.589749 -0.581327 -0.572901 -0.564477 -0.556053 -0.5392 -0.522347 -0.513923 -0.505499 -0.497074 -0.488651 -0.480225 -0.471802 -0.463377 -0.454951 -0.438116 -0.421277 -0.40443 -0.387584 -0.370735 -0.337035 -0.303333 -0.26963 -0.235926 -0.202222 -0.168518 -0.134814 -0.101109 -0.067405 0 0 0 0 construction
  line L22 (22.8026, 6.5313) -> (23.8649, 6.5313) construction
  spline S15 degree 3 poles (23.8649, 6.5313) (24.118, 6.9328) (24.695, 7.848) (25.4194, 9.839) (25.372, 10.1863) (25.6994, 10.6689) (25.8061, 10.7491) (25.9097, 10.8187) (26.0062, 10.8786) (26.2998, 10.9373) (26.4357, 10.9246) (26.6859, 10.9255) (26.7966, 10.923) (27.0207, 10.8327) (27.1144, 10.7723) (27.2536, 10.6564) (27.315, 10.574) (27.4239, 10.4156) (27.4798, 10.2877) (27.5764, 9.9711) (27.5919, 9.8101) (28.0686, 8.0931) (28.9099, 6.81) (29.0856, 6.5313) knots 0 0 0 0 0.142394 0.142394 0.262557 0.262557 0.314666 0.314666 0.34653 0.34653 0.372217 0.372217 0.394622 0.394622 0.411062 0.411062 0.432958 0.432958 0.48678 0.48678 0.562983 0.562983 0.900876 0.900876 0.900876 0.900876 construction
  line L23 (29.0856, 6.5313) -> (29.0856, 15.9246) construction
  line L24 (29.0856, 15.9246) -> (-70.9144, 15.9246) construction
  line L25 (-70.9144, 15.9246) -> (-70.9144, 6.5313) construction
  line L26 (-70.9144, 6.5313) -> (-70.3801, 6.5313) construction
  arc A8 (10.3609, 4.6909) -> (10.3609, -10.5091) centre (17.0129, -2.9091) ccw
  line L27 (10.3609, 4.6909) -> (23.4363, 4.6909)
  arc A9 (23.4363, -10.5091) -> (23.4363, 4.6909) centre (16.7842, -2.9091) ccw
  line L28 (23.4363, -10.5091) -> (10.3609, -10.5091)
  arc A10 (-7.7124, -10.3995) -> (-7.7124, 4.8005) centre (-14.3644, -2.7995) ccw
  line L29 (-7.7124, -10.3995) -> (-20.7878, -10.3995)
  arc A11 (-20.7878, 4.8005) -> (-20.7878, -10.3995) centre (-14.1357, -2.7995) ccw
  line L30 (-20.7878, 4.8005) -> (-7.7124, 4.8005)
  line L31 (29.0856, 26.0746) -> (19.0856, 26.0746)
  line L32 (19.0856, 26.0746) -> (19.0856, 16.0746)
  line L33 (19.0856, 16.0746) -> (29.0856, 16.0746)
  line L34 (29.0856, 16.0746) -> (29.0856, 26.0746)
  circle A12 centre (24.0856, 21.0744) radius 1.25
  line L35 (19.0856, -26.0744) -> (29.0856, -26.0744)
  line L36 (29.0856, -26.0744) -> (29.0856, -16.0744)
  line L37 (19.0856, -16.0744) -> (19.0856, -26.0744)
  line L38 (29.0856, -16.0744) -> (19.0856, -16.0744)
  circle A13 centre (24.0856, -21.0746) radius 1.25
  line L39 (-29.0854, 16.0746) -> (-19.0854, 16.0746)
  line L40 (-19.0854, 16.0746) -> (-19.0854, 26.0746)
  line L41 (-29.0854, 26.0746) -> (-29.0854, 16.0746)
  line L42 (-19.0854, 26.0746) -> (-29.0854, 26.0746)
  circle A14 centre (-24.0854, 21.0744) radius 1.25
  line L43 (-29.0854, -26.0744) -> (-19.0854, -26.0744)
  line L44 (-19.0854, -26.0744) -> (-19.0854, -16.0744)
  line L45 (-29.0854, -16.0744) -> (-29.0854, -26.0744)
  line L46 (-19.0854, -16.0744) -> (-29.0854, -16.0744)
  circle A15 centre (-24.0854, -21.0746) radius 1.25
  line L47 (19.0856, 16.0746) -> (-19.0854, 16.0746)
  line L48 (-19.0854, 16.0746) -> (-19.0854, 26.0746)
  line L49 (-19.0854, 26.0746) -> (19.0856, 26.0746)
  line L50 (19.0856, 26.0746) -> (19.0856, 16.0746)
  point P0 (29.0856, 229.9846)
  point P1 (-19.0854, 16.0746)
  dimension "d0" = 0.1
  dimension "d1" = 0.1
  dimension "d2" = 10
  dimension "d3" = 10
  dimension "d6" = 42.149
  dimension "d9" = 48.171
extrude "Extrusion1" add sketch "Sketch1" along normal blind 8.3 contours L34 L33 L32 L31 | L32 L47 L40 L49 | L40 L39 L41 L42 | L37 L38 L36 L35 | L45 L46 L44 L43
sketch "Sketch2" plane through (-29.0856, -229.9846, 32.049) normal (0, 0, 1) x (1, 0, 0)
  line L0 (23.4363, -10.5091) -> (10.3609, -10.5091) projected
  arc A0 (10.3609, 4.6909) -> (10.3609, -10.5091) centre (17.0129, -2.9091) ccw projected
  line L1 (10.3609, 4.6909) -> (23.4363, 4.6909) projected
  arc A1 (23.4363, -10.5091) -> (23.4363, 4.6909) centre (16.7842, -2.9091) ccw projected
  arc A2 (-7.7124, -10.3995) -> (-7.7124, 4.8005) centre (-14.3644, -2.7995) ccw projected
  line L2 (-20.7878, 4.8005) -> (-7.7124, 4.8005) projected
  arc A3 (-20.7878, 4.8005) -> (-20.7878, -10.3995) centre (-14.1357, -2.7995) ccw projected
  line L3 (-7.7124, -10.3995) -> (-20.7878, -10.3995) projected
  line L4 (29.0856, -26.0744) -> (29.0856, -16.0744) projected
  line L5 (-29.0854, 26.0746) -> (-29.0854, 16.0746) projected
  line L6 (29.0856, -26.0744) -> (-29.0854, -26.0744)
  line L7 (-29.0854, -26.0744) -> (-29.0854, 26.0746)
  line L8 (-29.0854, 26.0746) -> (29.0856, 26.0746)
  line L9 (29.0856, 26.0746) -> (29.0856, -26.0744)
  circle A4 centre (24.0856, -21.0746) radius 1.25 projected
  circle A5 centre (-24.0854, -21.0746) radius 1.25 projected
  circle A6 centre (-24.0854, 21.0744) radius 1.25 projected
  circle A7 centre (24.0856, 21.0744) radius 1.25 projected
  point P0 (29.0856, 229.9846)
extrude "Extrusion2" add sketch "Sketch2" along normal blind 10
ref_plane "Work Plane2" through (-29.0856, -229.9846, 38.549) normal (0, 0, 1) x (1, 0, 0)
sketch "Sketch3" plane through (-29.0856, -229.9846, 38.549) normal (0, 0, 1) x (1, 0, 0)
  circle A0 centre (24.0856, -21.0746) radius 2.915 projected
  circle A1 centre (24.0856, -21.0746) radius 3.415
  line L0 (29.0856, -26.0744) -> (29.0856, 26.0746) construction
  line L1 (29.0856, 26.0746) -> (-29.0854, 26.0746) construction
  line L2 (-29.0854, 26.0746) -> (-29.0854, -26.0744) construction
  line L3 (-29.0854, -26.0744) -> (29.0856, -26.0744) construction
  circle A2 centre (24.0856, -21.0746) radius 1.25 construction
  circle A3 centre (-24.0854, -21.0746) radius 1.25 construction
  circle A4 centre (-24.0854, 21.0744) radius 1.25 construction
  circle A5 centre (24.0856, 21.0744) radius 1.25 construction
  line L4 (-20.7878, 4.8005) -> (-7.7124, 4.8005) construction
  arc A6 (-7.7124, -10.3995) -> (-7.7124, 4.8005) centre (-14.3644, -2.7995) ccw construction
  line L5 (-7.7124, -10.3995) -> (-20.7878, -10.3995) construction
  arc A7 (-20.7878, 4.8005) -> (-20.7878, -10.3995) centre (-14.1357, -2.7995) ccw construction
  line L6 (10.3609, 4.6909) -> (23.4363, 4.6909) construction
  arc A8 (23.4363, -10.5091) -> (23.4363, 4.6909) centre (16.7842, -2.9091) ccw construction
  line L7 (23.4363, -10.5091) -> (10.3609, -10.5091) construction
  arc A9 (10.3609, 4.6909) -> (10.3609, -10.5091) centre (17.0129, -2.9091) ccw construction
  circle A10 centre (24.0856, 21.0744) radius 3.415
  circle A11 centre (-24.0854, -21.0746) radius 3.415
  circle A12 centre (-24.0854, 21.0744) radius 3.415
  point P0 (29.0856, 229.9846)
  dimension "d17" = 0.5
  dimension "d20" = 42.149
  dimension "d23" = 48.171
extrude "Extrusion3" cut sketch "Sketch3" along normal blind 30.75 contours A0 | A1 | A10 | A11 | A12
properties part number "house_V5"
